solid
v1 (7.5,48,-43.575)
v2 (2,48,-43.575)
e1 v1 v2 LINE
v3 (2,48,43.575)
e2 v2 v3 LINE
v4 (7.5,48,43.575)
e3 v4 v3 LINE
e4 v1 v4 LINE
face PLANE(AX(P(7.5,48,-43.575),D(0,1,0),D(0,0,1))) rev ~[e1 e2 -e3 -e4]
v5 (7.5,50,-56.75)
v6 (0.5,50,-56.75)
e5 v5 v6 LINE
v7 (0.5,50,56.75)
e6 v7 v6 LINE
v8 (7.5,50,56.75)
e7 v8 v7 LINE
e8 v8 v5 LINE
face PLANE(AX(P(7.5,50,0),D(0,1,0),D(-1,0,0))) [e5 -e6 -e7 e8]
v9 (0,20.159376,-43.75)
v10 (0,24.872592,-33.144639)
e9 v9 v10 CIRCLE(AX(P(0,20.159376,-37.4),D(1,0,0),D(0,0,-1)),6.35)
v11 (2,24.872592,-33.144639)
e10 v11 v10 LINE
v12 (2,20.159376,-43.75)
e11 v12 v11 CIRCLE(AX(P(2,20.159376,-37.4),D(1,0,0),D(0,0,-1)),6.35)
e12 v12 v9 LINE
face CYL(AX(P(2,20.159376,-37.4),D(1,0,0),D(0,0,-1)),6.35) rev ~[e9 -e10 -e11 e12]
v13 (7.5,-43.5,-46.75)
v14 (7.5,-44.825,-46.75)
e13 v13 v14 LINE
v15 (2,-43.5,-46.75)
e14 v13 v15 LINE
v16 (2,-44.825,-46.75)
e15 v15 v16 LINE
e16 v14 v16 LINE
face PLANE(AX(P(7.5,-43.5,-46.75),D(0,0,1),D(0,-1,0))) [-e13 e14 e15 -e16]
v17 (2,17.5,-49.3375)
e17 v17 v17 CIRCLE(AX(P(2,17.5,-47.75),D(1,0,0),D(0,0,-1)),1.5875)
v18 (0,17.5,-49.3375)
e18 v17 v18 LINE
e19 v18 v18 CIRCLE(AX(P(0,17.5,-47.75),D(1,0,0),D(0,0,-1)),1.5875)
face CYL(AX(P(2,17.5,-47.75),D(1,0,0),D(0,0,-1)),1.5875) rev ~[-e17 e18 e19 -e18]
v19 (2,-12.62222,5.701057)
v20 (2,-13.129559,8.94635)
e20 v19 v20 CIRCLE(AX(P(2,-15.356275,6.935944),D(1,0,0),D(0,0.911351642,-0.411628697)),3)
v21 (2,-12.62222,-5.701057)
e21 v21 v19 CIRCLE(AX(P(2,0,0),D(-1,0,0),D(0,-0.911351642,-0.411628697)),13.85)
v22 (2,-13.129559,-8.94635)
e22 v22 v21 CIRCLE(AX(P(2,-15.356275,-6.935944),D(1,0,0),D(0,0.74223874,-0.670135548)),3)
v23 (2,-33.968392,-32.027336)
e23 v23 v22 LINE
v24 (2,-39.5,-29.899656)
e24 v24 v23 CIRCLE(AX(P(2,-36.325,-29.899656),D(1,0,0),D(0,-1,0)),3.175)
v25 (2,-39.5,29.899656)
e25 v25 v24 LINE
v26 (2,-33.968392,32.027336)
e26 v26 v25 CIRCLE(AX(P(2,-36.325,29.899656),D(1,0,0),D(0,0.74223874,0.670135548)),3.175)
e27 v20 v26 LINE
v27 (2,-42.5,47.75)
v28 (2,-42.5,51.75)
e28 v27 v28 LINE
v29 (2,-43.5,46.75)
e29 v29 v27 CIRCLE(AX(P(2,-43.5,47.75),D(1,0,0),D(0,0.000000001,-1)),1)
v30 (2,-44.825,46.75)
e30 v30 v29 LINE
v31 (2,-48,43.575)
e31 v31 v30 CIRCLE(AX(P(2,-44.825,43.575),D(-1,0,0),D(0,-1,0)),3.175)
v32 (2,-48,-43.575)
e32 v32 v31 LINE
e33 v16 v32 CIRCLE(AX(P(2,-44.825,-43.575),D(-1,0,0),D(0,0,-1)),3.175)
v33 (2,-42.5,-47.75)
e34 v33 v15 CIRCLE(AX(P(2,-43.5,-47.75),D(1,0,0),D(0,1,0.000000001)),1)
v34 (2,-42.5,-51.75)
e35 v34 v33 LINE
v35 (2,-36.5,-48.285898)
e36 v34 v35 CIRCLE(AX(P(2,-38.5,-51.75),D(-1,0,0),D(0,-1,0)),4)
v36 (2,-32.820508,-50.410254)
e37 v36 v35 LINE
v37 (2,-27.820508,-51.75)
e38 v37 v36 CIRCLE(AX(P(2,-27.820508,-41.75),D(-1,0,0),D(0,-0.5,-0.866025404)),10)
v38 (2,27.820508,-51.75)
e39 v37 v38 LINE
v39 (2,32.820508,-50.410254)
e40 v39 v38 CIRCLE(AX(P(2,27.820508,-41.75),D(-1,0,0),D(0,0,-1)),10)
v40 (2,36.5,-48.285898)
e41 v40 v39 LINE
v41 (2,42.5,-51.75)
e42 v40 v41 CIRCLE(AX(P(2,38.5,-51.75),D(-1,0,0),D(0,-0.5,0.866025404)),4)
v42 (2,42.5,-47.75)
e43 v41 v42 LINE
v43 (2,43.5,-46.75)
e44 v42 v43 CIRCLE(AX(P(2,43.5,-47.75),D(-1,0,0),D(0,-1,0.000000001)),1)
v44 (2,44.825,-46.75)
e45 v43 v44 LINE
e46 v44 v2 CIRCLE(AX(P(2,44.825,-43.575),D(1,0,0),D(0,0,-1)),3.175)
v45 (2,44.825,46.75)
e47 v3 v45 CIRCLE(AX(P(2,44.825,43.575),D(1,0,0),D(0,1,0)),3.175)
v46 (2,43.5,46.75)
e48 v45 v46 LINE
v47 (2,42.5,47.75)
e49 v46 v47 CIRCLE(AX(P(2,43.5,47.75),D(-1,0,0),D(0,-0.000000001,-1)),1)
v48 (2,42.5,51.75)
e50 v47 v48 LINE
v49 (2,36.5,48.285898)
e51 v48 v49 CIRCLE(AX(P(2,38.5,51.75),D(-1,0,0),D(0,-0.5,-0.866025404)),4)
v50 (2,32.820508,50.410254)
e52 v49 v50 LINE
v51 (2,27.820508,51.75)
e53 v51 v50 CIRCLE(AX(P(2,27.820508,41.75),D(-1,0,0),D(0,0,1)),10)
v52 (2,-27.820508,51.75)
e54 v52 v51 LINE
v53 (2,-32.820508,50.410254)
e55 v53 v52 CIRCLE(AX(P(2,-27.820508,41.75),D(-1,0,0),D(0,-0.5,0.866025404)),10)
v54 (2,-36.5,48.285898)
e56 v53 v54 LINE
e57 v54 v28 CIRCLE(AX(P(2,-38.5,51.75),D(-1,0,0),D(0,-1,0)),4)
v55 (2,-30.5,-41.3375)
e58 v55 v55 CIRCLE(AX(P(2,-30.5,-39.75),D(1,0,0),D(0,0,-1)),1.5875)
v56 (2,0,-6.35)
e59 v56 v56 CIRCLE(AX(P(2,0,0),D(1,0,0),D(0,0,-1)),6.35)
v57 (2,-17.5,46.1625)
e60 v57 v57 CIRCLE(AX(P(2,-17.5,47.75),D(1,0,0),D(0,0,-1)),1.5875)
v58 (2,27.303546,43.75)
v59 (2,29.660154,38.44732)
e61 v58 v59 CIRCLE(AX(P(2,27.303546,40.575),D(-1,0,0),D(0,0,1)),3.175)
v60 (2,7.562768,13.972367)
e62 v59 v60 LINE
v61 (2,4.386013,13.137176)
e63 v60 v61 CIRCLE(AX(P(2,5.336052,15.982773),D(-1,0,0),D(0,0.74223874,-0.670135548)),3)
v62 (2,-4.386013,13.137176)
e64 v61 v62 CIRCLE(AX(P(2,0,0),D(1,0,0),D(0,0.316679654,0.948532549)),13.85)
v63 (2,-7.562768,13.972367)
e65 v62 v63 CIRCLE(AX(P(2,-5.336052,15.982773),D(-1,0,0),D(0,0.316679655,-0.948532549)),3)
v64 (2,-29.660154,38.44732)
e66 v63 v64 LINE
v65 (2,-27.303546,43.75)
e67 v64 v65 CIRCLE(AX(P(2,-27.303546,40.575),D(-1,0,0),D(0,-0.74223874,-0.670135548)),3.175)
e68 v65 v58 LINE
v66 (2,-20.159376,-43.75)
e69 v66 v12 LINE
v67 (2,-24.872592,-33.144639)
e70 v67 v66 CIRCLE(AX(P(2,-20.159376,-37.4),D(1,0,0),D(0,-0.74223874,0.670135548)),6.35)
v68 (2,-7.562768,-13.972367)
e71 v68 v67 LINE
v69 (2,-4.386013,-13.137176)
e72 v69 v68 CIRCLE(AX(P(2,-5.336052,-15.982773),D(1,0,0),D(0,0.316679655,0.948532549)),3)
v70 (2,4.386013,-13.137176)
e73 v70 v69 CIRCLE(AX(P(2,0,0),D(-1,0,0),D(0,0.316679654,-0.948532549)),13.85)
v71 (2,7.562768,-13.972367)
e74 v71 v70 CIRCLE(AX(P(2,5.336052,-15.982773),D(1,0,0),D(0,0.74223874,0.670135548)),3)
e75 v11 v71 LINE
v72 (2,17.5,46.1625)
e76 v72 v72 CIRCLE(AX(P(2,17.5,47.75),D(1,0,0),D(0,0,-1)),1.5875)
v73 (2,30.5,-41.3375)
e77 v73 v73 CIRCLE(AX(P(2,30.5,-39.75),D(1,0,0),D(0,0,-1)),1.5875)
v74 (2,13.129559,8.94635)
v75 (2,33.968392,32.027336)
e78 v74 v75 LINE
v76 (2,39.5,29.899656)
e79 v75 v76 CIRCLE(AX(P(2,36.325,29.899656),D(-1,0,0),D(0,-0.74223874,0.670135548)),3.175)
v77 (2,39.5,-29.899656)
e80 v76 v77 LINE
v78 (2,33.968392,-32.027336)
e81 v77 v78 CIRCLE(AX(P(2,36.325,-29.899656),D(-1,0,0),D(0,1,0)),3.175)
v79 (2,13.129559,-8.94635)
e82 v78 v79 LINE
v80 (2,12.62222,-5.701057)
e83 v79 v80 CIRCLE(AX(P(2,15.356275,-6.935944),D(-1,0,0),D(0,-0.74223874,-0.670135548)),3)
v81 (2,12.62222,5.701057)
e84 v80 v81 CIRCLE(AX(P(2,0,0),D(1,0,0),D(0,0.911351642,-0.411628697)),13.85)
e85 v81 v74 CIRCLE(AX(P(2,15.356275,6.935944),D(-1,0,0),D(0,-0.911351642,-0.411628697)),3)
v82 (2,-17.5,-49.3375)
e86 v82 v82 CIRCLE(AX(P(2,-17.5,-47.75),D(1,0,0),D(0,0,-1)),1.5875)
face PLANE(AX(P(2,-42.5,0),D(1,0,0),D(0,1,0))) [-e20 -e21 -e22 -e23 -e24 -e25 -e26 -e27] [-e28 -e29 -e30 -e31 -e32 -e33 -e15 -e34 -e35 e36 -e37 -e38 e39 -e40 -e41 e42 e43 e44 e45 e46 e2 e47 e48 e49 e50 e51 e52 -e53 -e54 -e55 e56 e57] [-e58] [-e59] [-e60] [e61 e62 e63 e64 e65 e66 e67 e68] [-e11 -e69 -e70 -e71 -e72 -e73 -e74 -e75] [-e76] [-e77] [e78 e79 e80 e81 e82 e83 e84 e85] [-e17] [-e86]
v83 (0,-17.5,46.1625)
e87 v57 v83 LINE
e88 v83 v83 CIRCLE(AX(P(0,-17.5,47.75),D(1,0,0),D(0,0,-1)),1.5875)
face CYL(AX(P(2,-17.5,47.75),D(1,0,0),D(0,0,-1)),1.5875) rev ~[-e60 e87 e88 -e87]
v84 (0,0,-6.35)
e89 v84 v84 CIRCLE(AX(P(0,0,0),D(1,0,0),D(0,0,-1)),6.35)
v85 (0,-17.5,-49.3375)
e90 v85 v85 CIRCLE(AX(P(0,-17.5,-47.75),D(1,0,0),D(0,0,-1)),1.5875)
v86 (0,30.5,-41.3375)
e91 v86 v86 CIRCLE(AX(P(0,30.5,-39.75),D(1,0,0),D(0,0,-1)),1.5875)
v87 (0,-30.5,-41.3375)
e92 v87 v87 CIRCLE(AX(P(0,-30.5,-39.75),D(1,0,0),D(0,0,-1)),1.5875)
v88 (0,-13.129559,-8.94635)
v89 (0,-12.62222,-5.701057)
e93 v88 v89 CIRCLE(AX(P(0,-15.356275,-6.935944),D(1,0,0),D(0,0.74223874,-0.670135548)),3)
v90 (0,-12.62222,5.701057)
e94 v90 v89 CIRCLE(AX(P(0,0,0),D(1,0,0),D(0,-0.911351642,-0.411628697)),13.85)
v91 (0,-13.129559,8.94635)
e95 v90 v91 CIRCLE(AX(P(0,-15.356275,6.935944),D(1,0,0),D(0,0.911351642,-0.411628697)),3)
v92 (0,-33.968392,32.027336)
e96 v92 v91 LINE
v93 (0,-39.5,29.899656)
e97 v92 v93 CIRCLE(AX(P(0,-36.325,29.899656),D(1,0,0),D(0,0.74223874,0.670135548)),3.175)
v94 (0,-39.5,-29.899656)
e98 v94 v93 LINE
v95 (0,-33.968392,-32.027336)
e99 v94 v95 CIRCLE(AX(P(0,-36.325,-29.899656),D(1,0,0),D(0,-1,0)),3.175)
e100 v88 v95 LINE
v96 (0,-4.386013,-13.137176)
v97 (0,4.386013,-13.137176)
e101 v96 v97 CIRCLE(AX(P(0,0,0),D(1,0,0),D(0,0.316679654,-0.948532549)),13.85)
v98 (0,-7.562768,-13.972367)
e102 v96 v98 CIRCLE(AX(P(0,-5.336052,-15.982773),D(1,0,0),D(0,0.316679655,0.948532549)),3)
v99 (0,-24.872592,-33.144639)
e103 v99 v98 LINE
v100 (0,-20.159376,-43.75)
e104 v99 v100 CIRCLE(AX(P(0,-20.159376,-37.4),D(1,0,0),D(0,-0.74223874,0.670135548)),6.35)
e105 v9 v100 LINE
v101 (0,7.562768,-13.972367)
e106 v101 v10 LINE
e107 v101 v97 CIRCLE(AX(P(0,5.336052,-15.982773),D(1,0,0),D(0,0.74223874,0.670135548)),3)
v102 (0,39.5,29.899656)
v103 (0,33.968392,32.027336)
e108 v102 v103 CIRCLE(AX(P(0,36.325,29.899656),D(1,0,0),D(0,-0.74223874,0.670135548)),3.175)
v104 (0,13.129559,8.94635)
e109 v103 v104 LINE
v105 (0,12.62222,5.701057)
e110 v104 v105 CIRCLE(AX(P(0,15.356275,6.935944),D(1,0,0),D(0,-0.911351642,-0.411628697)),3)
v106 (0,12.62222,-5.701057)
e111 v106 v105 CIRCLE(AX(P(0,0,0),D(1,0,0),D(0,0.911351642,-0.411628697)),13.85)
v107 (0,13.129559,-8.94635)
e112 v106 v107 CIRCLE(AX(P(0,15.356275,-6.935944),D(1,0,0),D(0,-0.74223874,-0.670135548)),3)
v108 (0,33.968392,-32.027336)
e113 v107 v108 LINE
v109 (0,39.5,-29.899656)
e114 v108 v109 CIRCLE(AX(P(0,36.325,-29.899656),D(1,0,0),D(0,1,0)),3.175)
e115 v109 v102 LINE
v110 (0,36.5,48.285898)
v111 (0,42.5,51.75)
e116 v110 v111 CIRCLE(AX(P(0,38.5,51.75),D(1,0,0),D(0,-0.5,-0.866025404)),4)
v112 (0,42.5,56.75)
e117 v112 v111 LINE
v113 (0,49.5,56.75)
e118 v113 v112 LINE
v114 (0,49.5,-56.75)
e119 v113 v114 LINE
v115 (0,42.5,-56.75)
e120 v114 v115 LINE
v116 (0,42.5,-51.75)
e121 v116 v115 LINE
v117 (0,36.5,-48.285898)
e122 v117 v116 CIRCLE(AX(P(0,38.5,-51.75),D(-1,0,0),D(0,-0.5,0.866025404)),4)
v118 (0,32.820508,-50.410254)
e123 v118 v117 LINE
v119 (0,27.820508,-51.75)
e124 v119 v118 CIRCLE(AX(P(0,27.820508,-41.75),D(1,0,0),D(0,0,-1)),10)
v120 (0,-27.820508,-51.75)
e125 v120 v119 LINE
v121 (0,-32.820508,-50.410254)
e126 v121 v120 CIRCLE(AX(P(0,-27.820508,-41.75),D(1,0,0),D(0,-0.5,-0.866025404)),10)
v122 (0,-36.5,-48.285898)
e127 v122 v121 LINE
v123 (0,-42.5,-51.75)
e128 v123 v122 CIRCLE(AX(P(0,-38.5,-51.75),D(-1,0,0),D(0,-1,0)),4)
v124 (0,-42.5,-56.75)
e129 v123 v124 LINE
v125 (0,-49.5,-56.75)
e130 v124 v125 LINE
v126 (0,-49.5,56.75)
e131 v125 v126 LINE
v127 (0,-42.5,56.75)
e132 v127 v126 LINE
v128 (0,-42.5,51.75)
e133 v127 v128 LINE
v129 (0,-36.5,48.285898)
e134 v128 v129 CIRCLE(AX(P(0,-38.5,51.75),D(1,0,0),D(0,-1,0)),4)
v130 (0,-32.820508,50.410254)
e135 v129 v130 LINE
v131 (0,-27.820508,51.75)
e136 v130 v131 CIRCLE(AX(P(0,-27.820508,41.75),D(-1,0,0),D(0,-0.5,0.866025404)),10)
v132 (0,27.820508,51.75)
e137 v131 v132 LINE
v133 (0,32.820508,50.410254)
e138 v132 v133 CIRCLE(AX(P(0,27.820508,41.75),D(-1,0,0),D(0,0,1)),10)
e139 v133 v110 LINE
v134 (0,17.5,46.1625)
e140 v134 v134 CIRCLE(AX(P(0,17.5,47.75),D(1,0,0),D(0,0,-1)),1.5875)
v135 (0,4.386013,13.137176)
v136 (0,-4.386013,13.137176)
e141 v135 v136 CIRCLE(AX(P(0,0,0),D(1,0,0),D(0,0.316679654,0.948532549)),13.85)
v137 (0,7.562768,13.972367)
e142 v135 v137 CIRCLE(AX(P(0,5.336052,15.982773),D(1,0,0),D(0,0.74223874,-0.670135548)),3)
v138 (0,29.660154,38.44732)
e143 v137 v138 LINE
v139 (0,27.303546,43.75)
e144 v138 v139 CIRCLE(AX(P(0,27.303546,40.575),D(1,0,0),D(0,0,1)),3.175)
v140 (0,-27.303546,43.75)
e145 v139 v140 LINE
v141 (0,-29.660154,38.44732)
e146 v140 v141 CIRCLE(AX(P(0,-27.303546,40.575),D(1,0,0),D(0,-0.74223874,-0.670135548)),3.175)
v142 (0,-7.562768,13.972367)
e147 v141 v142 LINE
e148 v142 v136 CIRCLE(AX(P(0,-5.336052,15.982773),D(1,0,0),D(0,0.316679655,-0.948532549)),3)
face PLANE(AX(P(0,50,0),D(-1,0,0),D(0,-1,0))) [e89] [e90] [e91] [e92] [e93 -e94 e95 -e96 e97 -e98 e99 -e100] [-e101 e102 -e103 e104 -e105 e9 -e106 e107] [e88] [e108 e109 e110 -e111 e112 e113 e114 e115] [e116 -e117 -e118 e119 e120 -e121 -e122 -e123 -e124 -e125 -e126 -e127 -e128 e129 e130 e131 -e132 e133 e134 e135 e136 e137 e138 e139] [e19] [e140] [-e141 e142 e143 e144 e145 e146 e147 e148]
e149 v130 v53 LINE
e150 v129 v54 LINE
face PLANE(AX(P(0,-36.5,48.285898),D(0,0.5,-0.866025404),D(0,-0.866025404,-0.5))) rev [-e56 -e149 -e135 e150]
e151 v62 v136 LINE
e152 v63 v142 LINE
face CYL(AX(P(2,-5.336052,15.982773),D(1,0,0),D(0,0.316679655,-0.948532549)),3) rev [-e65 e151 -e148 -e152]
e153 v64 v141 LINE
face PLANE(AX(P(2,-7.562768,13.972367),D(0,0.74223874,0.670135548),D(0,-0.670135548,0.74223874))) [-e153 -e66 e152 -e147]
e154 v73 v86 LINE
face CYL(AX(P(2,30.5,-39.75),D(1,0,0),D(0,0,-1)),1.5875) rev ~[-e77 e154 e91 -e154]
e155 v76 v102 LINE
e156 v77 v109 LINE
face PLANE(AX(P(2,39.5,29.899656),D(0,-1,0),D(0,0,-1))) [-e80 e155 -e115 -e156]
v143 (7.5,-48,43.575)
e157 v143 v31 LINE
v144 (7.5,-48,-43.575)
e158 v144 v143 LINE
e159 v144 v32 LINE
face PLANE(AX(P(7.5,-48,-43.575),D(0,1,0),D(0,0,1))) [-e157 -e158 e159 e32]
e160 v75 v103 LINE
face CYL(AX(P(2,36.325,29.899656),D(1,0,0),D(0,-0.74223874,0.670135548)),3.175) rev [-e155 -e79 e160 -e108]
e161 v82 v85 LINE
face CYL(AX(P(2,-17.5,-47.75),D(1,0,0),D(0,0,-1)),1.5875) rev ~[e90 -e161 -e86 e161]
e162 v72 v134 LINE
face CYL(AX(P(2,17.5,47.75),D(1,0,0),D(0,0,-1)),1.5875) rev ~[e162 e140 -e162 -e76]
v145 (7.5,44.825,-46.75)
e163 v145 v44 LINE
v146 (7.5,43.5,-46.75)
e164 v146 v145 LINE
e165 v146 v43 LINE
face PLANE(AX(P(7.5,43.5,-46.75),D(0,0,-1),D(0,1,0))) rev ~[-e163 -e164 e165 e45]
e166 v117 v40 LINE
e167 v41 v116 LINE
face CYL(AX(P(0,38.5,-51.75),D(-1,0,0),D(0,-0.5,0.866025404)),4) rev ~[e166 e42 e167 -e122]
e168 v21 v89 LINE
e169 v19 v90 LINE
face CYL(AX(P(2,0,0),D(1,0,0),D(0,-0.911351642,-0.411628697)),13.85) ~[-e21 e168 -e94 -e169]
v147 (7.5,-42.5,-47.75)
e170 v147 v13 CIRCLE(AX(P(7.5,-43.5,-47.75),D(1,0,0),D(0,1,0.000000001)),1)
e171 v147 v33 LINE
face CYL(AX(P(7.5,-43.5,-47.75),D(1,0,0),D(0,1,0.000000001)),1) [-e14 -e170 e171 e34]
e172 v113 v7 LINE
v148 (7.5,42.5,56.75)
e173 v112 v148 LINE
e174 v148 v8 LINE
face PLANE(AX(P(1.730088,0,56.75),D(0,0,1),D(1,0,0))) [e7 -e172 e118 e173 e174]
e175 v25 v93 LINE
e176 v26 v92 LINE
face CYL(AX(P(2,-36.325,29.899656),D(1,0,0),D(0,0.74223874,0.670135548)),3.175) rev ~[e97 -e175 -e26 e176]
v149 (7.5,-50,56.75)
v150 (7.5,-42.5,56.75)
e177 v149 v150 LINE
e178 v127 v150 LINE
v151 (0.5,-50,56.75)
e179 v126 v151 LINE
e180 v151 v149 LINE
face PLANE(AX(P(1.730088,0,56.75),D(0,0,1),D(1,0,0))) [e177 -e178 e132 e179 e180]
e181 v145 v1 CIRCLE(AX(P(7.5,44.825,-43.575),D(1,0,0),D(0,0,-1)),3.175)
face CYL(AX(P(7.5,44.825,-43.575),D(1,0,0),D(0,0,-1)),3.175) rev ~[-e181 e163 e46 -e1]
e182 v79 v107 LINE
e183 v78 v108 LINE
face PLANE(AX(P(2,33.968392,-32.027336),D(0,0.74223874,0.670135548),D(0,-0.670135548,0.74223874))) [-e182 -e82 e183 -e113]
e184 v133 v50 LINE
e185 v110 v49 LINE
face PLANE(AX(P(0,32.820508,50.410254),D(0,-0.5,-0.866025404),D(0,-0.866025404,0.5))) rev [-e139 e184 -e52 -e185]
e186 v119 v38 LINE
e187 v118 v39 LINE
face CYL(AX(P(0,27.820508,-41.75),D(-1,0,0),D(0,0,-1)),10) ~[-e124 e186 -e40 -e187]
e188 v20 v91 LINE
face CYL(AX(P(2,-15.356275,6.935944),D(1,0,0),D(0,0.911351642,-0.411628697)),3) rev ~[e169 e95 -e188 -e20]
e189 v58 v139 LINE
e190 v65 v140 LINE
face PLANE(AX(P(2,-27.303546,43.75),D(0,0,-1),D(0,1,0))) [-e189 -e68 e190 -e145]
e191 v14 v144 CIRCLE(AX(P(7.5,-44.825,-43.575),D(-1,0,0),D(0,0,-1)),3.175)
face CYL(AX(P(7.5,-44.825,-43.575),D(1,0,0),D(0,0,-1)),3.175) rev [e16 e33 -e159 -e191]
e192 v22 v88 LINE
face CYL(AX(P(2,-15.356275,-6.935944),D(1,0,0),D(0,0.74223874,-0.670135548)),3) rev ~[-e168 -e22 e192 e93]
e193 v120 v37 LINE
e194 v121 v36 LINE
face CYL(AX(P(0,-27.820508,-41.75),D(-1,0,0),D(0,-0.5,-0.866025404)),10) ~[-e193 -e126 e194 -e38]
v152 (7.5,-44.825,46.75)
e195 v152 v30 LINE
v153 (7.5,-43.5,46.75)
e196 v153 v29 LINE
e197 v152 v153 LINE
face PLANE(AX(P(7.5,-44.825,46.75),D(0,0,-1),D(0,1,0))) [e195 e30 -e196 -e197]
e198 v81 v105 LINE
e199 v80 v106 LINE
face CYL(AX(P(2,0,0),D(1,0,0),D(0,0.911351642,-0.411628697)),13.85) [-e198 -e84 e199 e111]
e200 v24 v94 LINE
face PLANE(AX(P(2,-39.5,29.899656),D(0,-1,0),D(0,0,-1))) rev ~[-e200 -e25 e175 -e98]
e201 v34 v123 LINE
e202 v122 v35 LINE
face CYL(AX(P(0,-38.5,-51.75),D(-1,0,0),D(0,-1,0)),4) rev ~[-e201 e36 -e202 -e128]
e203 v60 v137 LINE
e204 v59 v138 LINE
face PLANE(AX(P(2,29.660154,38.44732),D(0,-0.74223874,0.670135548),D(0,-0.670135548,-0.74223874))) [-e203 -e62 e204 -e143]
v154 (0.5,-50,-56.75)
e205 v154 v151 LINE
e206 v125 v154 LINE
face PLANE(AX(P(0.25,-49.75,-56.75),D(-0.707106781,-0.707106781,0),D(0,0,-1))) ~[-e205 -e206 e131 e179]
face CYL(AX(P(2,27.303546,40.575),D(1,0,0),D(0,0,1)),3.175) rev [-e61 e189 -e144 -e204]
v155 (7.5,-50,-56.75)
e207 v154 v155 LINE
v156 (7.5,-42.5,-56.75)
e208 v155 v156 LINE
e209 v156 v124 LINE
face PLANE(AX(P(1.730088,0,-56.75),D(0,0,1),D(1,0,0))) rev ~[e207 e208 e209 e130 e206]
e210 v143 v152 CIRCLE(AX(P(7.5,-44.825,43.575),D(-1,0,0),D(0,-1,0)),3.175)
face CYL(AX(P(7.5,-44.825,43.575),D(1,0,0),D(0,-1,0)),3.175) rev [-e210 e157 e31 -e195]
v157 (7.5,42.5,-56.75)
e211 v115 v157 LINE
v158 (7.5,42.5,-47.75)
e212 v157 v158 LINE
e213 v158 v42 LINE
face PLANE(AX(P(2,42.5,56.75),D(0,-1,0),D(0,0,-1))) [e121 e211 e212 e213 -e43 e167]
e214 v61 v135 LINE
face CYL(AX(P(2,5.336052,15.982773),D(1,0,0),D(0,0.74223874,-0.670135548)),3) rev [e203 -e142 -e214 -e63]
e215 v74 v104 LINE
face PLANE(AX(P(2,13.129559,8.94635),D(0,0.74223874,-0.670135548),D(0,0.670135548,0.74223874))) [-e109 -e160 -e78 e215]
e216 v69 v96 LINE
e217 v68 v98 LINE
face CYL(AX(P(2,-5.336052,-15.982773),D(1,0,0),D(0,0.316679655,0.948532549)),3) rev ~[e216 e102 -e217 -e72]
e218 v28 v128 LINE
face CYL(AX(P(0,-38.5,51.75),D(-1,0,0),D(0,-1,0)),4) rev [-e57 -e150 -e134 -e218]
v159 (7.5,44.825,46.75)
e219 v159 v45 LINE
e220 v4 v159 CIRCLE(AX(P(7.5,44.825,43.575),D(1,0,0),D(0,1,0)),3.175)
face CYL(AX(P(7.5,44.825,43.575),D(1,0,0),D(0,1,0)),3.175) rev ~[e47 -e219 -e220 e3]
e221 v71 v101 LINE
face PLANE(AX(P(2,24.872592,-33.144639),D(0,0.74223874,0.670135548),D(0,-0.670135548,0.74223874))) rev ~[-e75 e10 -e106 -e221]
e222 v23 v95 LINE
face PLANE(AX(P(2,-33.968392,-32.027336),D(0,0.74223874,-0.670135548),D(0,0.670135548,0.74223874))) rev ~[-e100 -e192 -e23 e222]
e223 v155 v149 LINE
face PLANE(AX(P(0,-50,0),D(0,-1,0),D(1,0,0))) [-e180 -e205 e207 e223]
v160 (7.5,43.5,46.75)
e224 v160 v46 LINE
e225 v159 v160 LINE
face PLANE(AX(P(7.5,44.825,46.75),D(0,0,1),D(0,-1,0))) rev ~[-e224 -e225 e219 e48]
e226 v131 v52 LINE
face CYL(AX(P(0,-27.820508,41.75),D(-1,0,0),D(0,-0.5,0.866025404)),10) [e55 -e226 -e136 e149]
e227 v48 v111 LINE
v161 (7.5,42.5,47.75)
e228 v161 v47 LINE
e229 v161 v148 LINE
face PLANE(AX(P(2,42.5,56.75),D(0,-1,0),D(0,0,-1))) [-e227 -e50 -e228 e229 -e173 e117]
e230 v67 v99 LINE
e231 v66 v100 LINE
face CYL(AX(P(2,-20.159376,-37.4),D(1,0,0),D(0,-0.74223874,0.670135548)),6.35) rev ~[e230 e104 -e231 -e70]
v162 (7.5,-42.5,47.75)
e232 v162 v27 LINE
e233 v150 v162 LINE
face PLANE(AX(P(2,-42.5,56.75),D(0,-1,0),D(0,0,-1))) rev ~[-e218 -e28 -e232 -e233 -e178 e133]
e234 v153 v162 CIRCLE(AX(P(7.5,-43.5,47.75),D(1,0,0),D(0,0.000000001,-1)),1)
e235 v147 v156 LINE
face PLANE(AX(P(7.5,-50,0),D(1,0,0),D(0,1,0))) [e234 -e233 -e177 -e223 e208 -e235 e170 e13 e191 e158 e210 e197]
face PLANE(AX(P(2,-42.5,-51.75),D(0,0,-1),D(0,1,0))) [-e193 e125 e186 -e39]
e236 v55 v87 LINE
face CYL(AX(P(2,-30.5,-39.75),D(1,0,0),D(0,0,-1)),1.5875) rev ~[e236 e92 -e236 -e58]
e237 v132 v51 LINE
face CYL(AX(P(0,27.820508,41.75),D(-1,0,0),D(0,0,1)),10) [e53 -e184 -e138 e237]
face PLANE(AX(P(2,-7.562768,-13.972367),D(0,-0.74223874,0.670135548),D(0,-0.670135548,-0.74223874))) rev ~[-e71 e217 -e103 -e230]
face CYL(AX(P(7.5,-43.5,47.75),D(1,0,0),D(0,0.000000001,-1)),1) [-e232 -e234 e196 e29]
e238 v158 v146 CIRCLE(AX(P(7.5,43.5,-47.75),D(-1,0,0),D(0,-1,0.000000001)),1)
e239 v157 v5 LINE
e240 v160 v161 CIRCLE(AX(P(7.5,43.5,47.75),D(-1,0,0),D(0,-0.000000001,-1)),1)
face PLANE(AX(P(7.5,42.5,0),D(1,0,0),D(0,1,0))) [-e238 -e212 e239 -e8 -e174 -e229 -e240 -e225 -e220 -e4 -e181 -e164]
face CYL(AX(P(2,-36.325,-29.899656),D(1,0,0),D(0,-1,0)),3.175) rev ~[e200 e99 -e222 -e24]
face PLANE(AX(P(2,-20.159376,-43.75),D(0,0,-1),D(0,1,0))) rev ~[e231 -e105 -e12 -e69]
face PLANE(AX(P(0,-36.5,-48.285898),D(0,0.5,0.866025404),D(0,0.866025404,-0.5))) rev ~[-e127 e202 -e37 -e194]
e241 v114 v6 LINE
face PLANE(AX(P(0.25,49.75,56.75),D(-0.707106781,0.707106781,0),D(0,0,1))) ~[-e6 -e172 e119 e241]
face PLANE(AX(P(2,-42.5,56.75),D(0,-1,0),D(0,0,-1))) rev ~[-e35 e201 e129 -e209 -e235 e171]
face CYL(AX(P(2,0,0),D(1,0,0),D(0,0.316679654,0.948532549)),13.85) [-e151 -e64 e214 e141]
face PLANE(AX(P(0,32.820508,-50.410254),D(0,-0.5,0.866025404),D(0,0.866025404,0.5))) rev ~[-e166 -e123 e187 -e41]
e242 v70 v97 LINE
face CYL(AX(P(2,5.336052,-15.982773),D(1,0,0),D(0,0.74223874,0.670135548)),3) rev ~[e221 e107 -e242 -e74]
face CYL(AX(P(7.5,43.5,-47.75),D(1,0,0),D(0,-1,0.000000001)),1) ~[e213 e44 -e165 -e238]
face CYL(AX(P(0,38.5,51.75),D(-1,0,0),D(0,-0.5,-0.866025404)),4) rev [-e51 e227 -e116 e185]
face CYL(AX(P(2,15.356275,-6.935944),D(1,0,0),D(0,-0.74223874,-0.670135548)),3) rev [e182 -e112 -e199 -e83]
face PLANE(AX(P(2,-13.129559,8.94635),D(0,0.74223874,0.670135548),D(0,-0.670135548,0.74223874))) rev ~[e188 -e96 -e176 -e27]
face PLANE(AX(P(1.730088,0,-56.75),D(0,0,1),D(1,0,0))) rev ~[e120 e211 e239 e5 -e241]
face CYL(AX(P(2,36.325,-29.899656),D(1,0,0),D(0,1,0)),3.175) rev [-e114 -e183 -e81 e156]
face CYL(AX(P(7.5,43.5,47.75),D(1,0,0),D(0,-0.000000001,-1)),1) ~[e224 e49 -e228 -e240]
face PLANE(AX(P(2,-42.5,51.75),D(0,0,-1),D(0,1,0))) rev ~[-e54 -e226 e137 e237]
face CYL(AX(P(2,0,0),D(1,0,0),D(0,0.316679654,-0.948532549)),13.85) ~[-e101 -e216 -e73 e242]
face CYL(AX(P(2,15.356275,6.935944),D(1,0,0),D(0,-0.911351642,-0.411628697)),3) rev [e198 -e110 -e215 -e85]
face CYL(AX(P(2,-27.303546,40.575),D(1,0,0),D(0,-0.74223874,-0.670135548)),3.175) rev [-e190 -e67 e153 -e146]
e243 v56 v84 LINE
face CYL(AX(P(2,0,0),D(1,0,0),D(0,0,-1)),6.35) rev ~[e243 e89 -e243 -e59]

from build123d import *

# Parameters (mm, degrees)
BOSS_EXTRUDE1_DEPTH = 56.75
SKETCH2_W           = 5
SKETCH2_H           = 85
SKETCH2_R           = 1.5875
CUT_EXTRUDE1_DEPTH  = 2
SKETCH3_R           = 6.35
SKETCH3_R_2         = 1.5875
CUT_EXTRUDE2_DEPTH  = 3
CHAMFER1_SIZE       = 0.5
CUT_EXTRUDE3_DEPTH  = 5.5
CUT_EXTRUDE4_DEPTH  = 10


with BuildPart() as part:
    # Sketch1 → Boss-Extrude1 (new body, symmetric)
    with BuildSketch(Plane.XY):
        Polygon((0, 50), (0, -50), (7.5, -50), (7.5, -42.5), (2, -42.5), (2, 42.5), (7.5, 42.5), (7.5, 50), align=None)
    extrude(amount=BOSS_EXTRUDE1_DEPTH, both=True)

    # Sketch2 → Cut-Extrude1 (cut)
    with BuildSketch(Plane(origin=(2, 0, 0), x_dir=(0, 0, -1), z_dir=(1, 0, 0))):
        with Locations((-54.25, 0)):
            Rectangle(SKETCH2_W, SKETCH2_H)
        with Locations((54.25, 0)):
            Rectangle(SKETCH2_W, SKETCH2_H)
        with Locations((-47.75, 17.5)):
            Circle(SKETCH2_R)
        with Locations((-47.75, -17.5)):
            Circle(SKETCH2_R)
        with Locations((47.75, 17.5)):
            Circle(SKETCH2_R)
        with Locations((47.75, -17.5)):
            Circle(SKETCH2_R)
    extrude(amount=-CUT_EXTRUDE1_DEPTH, mode=Mode.SUBTRACT)

    # Sketch3 → Cut-Extrude2 (cut, through all)
    with BuildSketch(Plane(origin=(2, 0, 0), x_dir=(0, 0, -1), z_dir=(1, 0, 0))):
        Circle(SKETCH3_R)
        with Locations((39.75, 30.5)):
            Circle(SKETCH3_R_2)
        with Locations((39.75, -30.5)):
            Circle(SKETCH3_R_2)
        with BuildLine():
            Line((-29.899655804, -39.5), (29.899655804, -39.5))
            ThreePointArc((29.899655804, -39.5), (32.863003185, -37.464823364), (32.027336169, -33.968392001))
            Line((32.027336169, -33.968392001), (8.946350194, -13.129558949))
            ThreePointArc((8.946350194, -13.129558949), (7.399307524, -12.392275536), (5.701057458, -12.622220243))
            ThreePointArc((5.701057458, -12.622220243), (0, -13.85), (-5.701057458, -12.622220243))
            ThreePointArc((-5.701057458, -12.622220243), (-7.399307524, -12.392275536), (-8.946350194, -13.129558949))
            Line((-8.946350194, -13.129558949), (-32.027336169, -33.968392001))
            ThreePointArc((-32.027336169, -33.968392001), (-32.863003185, -37.464823364), (-29.899655804, -39.5))
        make_face()
        with BuildLine():
            Line((-43.75, -27.303546383), (-43.75, 27.303546383))
            ThreePointArc((-43.75, 27.303546383), (-41.864426198, 30.204926241), (-38.447319635, 29.660154382))
            Line((-38.447319635, 29.660154382), (-13.972366805, 7.562768399))
            ThreePointArc((-13.972366805, 7.562768399), (-13.081370721, 6.098851109), (-13.137175803, 4.386013216))
            ThreePointArc((-13.137175803, 4.386013216), (-13.85, 0), (-13.137175803, -4.386013216))
            ThreePointArc((-13.137175803, -4.386013216), (-13.081370721, -6.098851109), (-13.972366805, -7.562768399))
            Line((-13.972366805, -7.562768399), (-38.447319635, -29.660154382))
            ThreePointArc((-38.447319635, -29.660154382), (-41.864426198, -30.204926241), (-43.75, -27.303546383))
        make_face()
        with BuildLine():
            Line((-29.899655804, 39.5), (29.899655804, 39.5))
            ThreePointArc((29.899655804, 39.5), (32.863003185, 37.464823364), (32.027336169, 33.968392001))
            Line((32.027336169, 33.968392001), (8.946350194, 13.129558949))
            ThreePointArc((8.946350194, 13.129558949), (7.399307524, 12.392275536), (5.701057458, 12.622220243))
            ThreePointArc((5.701057458, 12.622220243), (0, 13.85), (-5.701057458, 12.622220243))
            ThreePointArc((-5.701057458, 12.622220243), (-7.399307524, 12.392275536), (-8.946350194, 13.129558949))
            Line((-8.946350194, 13.129558949), (-32.027336169, 33.968392001))
            ThreePointArc((-32.027336169, 33.968392001), (-32.863003185, 37.464823364), (-29.899655804, 39.5))
        make_face()
        with BuildLine():
            Line((43.75, -20.159375539), (43.75, 20.159375539))
            ThreePointArc((43.75, 20.159375539), (39.978852396, 25.962135255), (33.144639269, 24.872591538))
            Line((33.144639269, 24.872591538), (13.972366805, 7.562768399))
            ThreePointArc((13.972366805, 7.562768399), (13.081370721, 6.098851109), (13.137175803, 4.386013216))
            ThreePointArc((13.137175803, 4.386013216), (13.85, 0), (13.137175803, -4.386013216))
            ThreePointArc((13.137175803, -4.386013216), (13.081370721, -6.098851109), (13.972366805, -7.562768399))
            Line((13.972366805, -7.562768399), (33.144639269, -24.872591538))
            ThreePointArc((33.144639269, -24.872591538), (39.978852396, -25.962135255), (43.75, -20.159375539))
        make_face()
    extrude(amount=-CUT_EXTRUDE2_DEPTH, mode=Mode.SUBTRACT)

    # Chamfer1
    chamfer1_edges = [part.edges().sort_by_distance(p)[0] for p in [
        (0, -50, 0),
        (0, 50, 0),
    ]]
    chamfer(chamfer1_edges, length=CHAMFER1_SIZE)

    # Sketch4 → Cut-Extrude3 (cut)
    with BuildSketch(Plane(origin=(7.5, 0, 0), x_dir=(0, 0, -1), z_dir=(1, 0, 0))):
        with BuildLine():
            Line((43.575, -48), (-43.575, -48))
            ThreePointArc((-43.575, -48), (-45.82006403, -47.07006403), (-46.75, -44.825))
            Line((-46.75, -44.825), (-46.75, -43.5))
            ThreePointArc((-46.75, -43.5), (-47.042893219, -42.792893219), (-47.75, -42.5))
            Line((-47.75, -42.5), (47.75, -42.5))
            ThreePointArc((47.75, -42.5), (47.042893219, -42.792893219), (46.75, -43.5))
            Line((46.75, -43.5), (46.75, -44.825))
            ThreePointArc((46.75, -44.825), (45.82006403, -47.07006403), (43.575, -48))
        make_face()
        with BuildLine():
            Line((-46.75, 44.825), (-46.75, 43.5))
            ThreePointArc((-46.75, 43.5), (-47.042893219, 42.792893219), (-47.75, 42.5))
            Line((-47.75, 42.5), (47.75, 42.5))
            ThreePointArc((47.75, 42.5), (47.042893219, 42.792893219), (46.75, 43.5))
            Line((46.75, 43.5), (46.75, 44.825))
            ThreePointArc((46.75, 44.825), (45.82006403, 47.07006403), (43.575, 48))
            Line((43.575, 48), (-43.575, 48))
            ThreePointArc((-43.575, 48), (-45.82006403, 47.07006403), (-46.75, 44.825))
        make_face()
    extrude(amount=-CUT_EXTRUDE3_DEPTH, mode=Mode.SUBTRACT)

    # Sketch5 → Cut-Extrude4 (cut)
    with BuildSketch(Plane.ZY):
        with BuildLine():
            ThreePointArc((-51.75, 27.820508076), (-51.409258263, 30.408698527), (-50.410254038, 32.820508076))
            Line((-50.410254038, 32.820508076), (-48.285898385, 36.5))
            ThreePointArc((-48.285898385, 36.5), (-48.285898385, 40.5), (-51.75, 42.5))
            Line((-51.75, 42.5), (-51.75, 27.820508076))
        make_face()
        with BuildLine():
            ThreePointArc((-50.410254038, -32.820508076), (-51.409258263, -30.408698527), (-51.75, -27.820508076))
            Line((-51.75, -27.820508076), (-51.75, -42.5))
            ThreePointArc((-51.75, -42.5), (-48.285898385, -40.5), (-48.285898385, -36.5))
            Line((-48.285898385, -36.5), (-50.410254038, -32.820508076))
        make_face()
    cut_extrude4 = extrude(amount=-CUT_EXTRUDE4_DEPTH, mode=Mode.SUBTRACT)

    # Mirror1: Cut-Extrude4 across plane
    add(cut_extrude4.mirror(Plane.XY), mode=Mode.SUBTRACT)


solid = part.part
